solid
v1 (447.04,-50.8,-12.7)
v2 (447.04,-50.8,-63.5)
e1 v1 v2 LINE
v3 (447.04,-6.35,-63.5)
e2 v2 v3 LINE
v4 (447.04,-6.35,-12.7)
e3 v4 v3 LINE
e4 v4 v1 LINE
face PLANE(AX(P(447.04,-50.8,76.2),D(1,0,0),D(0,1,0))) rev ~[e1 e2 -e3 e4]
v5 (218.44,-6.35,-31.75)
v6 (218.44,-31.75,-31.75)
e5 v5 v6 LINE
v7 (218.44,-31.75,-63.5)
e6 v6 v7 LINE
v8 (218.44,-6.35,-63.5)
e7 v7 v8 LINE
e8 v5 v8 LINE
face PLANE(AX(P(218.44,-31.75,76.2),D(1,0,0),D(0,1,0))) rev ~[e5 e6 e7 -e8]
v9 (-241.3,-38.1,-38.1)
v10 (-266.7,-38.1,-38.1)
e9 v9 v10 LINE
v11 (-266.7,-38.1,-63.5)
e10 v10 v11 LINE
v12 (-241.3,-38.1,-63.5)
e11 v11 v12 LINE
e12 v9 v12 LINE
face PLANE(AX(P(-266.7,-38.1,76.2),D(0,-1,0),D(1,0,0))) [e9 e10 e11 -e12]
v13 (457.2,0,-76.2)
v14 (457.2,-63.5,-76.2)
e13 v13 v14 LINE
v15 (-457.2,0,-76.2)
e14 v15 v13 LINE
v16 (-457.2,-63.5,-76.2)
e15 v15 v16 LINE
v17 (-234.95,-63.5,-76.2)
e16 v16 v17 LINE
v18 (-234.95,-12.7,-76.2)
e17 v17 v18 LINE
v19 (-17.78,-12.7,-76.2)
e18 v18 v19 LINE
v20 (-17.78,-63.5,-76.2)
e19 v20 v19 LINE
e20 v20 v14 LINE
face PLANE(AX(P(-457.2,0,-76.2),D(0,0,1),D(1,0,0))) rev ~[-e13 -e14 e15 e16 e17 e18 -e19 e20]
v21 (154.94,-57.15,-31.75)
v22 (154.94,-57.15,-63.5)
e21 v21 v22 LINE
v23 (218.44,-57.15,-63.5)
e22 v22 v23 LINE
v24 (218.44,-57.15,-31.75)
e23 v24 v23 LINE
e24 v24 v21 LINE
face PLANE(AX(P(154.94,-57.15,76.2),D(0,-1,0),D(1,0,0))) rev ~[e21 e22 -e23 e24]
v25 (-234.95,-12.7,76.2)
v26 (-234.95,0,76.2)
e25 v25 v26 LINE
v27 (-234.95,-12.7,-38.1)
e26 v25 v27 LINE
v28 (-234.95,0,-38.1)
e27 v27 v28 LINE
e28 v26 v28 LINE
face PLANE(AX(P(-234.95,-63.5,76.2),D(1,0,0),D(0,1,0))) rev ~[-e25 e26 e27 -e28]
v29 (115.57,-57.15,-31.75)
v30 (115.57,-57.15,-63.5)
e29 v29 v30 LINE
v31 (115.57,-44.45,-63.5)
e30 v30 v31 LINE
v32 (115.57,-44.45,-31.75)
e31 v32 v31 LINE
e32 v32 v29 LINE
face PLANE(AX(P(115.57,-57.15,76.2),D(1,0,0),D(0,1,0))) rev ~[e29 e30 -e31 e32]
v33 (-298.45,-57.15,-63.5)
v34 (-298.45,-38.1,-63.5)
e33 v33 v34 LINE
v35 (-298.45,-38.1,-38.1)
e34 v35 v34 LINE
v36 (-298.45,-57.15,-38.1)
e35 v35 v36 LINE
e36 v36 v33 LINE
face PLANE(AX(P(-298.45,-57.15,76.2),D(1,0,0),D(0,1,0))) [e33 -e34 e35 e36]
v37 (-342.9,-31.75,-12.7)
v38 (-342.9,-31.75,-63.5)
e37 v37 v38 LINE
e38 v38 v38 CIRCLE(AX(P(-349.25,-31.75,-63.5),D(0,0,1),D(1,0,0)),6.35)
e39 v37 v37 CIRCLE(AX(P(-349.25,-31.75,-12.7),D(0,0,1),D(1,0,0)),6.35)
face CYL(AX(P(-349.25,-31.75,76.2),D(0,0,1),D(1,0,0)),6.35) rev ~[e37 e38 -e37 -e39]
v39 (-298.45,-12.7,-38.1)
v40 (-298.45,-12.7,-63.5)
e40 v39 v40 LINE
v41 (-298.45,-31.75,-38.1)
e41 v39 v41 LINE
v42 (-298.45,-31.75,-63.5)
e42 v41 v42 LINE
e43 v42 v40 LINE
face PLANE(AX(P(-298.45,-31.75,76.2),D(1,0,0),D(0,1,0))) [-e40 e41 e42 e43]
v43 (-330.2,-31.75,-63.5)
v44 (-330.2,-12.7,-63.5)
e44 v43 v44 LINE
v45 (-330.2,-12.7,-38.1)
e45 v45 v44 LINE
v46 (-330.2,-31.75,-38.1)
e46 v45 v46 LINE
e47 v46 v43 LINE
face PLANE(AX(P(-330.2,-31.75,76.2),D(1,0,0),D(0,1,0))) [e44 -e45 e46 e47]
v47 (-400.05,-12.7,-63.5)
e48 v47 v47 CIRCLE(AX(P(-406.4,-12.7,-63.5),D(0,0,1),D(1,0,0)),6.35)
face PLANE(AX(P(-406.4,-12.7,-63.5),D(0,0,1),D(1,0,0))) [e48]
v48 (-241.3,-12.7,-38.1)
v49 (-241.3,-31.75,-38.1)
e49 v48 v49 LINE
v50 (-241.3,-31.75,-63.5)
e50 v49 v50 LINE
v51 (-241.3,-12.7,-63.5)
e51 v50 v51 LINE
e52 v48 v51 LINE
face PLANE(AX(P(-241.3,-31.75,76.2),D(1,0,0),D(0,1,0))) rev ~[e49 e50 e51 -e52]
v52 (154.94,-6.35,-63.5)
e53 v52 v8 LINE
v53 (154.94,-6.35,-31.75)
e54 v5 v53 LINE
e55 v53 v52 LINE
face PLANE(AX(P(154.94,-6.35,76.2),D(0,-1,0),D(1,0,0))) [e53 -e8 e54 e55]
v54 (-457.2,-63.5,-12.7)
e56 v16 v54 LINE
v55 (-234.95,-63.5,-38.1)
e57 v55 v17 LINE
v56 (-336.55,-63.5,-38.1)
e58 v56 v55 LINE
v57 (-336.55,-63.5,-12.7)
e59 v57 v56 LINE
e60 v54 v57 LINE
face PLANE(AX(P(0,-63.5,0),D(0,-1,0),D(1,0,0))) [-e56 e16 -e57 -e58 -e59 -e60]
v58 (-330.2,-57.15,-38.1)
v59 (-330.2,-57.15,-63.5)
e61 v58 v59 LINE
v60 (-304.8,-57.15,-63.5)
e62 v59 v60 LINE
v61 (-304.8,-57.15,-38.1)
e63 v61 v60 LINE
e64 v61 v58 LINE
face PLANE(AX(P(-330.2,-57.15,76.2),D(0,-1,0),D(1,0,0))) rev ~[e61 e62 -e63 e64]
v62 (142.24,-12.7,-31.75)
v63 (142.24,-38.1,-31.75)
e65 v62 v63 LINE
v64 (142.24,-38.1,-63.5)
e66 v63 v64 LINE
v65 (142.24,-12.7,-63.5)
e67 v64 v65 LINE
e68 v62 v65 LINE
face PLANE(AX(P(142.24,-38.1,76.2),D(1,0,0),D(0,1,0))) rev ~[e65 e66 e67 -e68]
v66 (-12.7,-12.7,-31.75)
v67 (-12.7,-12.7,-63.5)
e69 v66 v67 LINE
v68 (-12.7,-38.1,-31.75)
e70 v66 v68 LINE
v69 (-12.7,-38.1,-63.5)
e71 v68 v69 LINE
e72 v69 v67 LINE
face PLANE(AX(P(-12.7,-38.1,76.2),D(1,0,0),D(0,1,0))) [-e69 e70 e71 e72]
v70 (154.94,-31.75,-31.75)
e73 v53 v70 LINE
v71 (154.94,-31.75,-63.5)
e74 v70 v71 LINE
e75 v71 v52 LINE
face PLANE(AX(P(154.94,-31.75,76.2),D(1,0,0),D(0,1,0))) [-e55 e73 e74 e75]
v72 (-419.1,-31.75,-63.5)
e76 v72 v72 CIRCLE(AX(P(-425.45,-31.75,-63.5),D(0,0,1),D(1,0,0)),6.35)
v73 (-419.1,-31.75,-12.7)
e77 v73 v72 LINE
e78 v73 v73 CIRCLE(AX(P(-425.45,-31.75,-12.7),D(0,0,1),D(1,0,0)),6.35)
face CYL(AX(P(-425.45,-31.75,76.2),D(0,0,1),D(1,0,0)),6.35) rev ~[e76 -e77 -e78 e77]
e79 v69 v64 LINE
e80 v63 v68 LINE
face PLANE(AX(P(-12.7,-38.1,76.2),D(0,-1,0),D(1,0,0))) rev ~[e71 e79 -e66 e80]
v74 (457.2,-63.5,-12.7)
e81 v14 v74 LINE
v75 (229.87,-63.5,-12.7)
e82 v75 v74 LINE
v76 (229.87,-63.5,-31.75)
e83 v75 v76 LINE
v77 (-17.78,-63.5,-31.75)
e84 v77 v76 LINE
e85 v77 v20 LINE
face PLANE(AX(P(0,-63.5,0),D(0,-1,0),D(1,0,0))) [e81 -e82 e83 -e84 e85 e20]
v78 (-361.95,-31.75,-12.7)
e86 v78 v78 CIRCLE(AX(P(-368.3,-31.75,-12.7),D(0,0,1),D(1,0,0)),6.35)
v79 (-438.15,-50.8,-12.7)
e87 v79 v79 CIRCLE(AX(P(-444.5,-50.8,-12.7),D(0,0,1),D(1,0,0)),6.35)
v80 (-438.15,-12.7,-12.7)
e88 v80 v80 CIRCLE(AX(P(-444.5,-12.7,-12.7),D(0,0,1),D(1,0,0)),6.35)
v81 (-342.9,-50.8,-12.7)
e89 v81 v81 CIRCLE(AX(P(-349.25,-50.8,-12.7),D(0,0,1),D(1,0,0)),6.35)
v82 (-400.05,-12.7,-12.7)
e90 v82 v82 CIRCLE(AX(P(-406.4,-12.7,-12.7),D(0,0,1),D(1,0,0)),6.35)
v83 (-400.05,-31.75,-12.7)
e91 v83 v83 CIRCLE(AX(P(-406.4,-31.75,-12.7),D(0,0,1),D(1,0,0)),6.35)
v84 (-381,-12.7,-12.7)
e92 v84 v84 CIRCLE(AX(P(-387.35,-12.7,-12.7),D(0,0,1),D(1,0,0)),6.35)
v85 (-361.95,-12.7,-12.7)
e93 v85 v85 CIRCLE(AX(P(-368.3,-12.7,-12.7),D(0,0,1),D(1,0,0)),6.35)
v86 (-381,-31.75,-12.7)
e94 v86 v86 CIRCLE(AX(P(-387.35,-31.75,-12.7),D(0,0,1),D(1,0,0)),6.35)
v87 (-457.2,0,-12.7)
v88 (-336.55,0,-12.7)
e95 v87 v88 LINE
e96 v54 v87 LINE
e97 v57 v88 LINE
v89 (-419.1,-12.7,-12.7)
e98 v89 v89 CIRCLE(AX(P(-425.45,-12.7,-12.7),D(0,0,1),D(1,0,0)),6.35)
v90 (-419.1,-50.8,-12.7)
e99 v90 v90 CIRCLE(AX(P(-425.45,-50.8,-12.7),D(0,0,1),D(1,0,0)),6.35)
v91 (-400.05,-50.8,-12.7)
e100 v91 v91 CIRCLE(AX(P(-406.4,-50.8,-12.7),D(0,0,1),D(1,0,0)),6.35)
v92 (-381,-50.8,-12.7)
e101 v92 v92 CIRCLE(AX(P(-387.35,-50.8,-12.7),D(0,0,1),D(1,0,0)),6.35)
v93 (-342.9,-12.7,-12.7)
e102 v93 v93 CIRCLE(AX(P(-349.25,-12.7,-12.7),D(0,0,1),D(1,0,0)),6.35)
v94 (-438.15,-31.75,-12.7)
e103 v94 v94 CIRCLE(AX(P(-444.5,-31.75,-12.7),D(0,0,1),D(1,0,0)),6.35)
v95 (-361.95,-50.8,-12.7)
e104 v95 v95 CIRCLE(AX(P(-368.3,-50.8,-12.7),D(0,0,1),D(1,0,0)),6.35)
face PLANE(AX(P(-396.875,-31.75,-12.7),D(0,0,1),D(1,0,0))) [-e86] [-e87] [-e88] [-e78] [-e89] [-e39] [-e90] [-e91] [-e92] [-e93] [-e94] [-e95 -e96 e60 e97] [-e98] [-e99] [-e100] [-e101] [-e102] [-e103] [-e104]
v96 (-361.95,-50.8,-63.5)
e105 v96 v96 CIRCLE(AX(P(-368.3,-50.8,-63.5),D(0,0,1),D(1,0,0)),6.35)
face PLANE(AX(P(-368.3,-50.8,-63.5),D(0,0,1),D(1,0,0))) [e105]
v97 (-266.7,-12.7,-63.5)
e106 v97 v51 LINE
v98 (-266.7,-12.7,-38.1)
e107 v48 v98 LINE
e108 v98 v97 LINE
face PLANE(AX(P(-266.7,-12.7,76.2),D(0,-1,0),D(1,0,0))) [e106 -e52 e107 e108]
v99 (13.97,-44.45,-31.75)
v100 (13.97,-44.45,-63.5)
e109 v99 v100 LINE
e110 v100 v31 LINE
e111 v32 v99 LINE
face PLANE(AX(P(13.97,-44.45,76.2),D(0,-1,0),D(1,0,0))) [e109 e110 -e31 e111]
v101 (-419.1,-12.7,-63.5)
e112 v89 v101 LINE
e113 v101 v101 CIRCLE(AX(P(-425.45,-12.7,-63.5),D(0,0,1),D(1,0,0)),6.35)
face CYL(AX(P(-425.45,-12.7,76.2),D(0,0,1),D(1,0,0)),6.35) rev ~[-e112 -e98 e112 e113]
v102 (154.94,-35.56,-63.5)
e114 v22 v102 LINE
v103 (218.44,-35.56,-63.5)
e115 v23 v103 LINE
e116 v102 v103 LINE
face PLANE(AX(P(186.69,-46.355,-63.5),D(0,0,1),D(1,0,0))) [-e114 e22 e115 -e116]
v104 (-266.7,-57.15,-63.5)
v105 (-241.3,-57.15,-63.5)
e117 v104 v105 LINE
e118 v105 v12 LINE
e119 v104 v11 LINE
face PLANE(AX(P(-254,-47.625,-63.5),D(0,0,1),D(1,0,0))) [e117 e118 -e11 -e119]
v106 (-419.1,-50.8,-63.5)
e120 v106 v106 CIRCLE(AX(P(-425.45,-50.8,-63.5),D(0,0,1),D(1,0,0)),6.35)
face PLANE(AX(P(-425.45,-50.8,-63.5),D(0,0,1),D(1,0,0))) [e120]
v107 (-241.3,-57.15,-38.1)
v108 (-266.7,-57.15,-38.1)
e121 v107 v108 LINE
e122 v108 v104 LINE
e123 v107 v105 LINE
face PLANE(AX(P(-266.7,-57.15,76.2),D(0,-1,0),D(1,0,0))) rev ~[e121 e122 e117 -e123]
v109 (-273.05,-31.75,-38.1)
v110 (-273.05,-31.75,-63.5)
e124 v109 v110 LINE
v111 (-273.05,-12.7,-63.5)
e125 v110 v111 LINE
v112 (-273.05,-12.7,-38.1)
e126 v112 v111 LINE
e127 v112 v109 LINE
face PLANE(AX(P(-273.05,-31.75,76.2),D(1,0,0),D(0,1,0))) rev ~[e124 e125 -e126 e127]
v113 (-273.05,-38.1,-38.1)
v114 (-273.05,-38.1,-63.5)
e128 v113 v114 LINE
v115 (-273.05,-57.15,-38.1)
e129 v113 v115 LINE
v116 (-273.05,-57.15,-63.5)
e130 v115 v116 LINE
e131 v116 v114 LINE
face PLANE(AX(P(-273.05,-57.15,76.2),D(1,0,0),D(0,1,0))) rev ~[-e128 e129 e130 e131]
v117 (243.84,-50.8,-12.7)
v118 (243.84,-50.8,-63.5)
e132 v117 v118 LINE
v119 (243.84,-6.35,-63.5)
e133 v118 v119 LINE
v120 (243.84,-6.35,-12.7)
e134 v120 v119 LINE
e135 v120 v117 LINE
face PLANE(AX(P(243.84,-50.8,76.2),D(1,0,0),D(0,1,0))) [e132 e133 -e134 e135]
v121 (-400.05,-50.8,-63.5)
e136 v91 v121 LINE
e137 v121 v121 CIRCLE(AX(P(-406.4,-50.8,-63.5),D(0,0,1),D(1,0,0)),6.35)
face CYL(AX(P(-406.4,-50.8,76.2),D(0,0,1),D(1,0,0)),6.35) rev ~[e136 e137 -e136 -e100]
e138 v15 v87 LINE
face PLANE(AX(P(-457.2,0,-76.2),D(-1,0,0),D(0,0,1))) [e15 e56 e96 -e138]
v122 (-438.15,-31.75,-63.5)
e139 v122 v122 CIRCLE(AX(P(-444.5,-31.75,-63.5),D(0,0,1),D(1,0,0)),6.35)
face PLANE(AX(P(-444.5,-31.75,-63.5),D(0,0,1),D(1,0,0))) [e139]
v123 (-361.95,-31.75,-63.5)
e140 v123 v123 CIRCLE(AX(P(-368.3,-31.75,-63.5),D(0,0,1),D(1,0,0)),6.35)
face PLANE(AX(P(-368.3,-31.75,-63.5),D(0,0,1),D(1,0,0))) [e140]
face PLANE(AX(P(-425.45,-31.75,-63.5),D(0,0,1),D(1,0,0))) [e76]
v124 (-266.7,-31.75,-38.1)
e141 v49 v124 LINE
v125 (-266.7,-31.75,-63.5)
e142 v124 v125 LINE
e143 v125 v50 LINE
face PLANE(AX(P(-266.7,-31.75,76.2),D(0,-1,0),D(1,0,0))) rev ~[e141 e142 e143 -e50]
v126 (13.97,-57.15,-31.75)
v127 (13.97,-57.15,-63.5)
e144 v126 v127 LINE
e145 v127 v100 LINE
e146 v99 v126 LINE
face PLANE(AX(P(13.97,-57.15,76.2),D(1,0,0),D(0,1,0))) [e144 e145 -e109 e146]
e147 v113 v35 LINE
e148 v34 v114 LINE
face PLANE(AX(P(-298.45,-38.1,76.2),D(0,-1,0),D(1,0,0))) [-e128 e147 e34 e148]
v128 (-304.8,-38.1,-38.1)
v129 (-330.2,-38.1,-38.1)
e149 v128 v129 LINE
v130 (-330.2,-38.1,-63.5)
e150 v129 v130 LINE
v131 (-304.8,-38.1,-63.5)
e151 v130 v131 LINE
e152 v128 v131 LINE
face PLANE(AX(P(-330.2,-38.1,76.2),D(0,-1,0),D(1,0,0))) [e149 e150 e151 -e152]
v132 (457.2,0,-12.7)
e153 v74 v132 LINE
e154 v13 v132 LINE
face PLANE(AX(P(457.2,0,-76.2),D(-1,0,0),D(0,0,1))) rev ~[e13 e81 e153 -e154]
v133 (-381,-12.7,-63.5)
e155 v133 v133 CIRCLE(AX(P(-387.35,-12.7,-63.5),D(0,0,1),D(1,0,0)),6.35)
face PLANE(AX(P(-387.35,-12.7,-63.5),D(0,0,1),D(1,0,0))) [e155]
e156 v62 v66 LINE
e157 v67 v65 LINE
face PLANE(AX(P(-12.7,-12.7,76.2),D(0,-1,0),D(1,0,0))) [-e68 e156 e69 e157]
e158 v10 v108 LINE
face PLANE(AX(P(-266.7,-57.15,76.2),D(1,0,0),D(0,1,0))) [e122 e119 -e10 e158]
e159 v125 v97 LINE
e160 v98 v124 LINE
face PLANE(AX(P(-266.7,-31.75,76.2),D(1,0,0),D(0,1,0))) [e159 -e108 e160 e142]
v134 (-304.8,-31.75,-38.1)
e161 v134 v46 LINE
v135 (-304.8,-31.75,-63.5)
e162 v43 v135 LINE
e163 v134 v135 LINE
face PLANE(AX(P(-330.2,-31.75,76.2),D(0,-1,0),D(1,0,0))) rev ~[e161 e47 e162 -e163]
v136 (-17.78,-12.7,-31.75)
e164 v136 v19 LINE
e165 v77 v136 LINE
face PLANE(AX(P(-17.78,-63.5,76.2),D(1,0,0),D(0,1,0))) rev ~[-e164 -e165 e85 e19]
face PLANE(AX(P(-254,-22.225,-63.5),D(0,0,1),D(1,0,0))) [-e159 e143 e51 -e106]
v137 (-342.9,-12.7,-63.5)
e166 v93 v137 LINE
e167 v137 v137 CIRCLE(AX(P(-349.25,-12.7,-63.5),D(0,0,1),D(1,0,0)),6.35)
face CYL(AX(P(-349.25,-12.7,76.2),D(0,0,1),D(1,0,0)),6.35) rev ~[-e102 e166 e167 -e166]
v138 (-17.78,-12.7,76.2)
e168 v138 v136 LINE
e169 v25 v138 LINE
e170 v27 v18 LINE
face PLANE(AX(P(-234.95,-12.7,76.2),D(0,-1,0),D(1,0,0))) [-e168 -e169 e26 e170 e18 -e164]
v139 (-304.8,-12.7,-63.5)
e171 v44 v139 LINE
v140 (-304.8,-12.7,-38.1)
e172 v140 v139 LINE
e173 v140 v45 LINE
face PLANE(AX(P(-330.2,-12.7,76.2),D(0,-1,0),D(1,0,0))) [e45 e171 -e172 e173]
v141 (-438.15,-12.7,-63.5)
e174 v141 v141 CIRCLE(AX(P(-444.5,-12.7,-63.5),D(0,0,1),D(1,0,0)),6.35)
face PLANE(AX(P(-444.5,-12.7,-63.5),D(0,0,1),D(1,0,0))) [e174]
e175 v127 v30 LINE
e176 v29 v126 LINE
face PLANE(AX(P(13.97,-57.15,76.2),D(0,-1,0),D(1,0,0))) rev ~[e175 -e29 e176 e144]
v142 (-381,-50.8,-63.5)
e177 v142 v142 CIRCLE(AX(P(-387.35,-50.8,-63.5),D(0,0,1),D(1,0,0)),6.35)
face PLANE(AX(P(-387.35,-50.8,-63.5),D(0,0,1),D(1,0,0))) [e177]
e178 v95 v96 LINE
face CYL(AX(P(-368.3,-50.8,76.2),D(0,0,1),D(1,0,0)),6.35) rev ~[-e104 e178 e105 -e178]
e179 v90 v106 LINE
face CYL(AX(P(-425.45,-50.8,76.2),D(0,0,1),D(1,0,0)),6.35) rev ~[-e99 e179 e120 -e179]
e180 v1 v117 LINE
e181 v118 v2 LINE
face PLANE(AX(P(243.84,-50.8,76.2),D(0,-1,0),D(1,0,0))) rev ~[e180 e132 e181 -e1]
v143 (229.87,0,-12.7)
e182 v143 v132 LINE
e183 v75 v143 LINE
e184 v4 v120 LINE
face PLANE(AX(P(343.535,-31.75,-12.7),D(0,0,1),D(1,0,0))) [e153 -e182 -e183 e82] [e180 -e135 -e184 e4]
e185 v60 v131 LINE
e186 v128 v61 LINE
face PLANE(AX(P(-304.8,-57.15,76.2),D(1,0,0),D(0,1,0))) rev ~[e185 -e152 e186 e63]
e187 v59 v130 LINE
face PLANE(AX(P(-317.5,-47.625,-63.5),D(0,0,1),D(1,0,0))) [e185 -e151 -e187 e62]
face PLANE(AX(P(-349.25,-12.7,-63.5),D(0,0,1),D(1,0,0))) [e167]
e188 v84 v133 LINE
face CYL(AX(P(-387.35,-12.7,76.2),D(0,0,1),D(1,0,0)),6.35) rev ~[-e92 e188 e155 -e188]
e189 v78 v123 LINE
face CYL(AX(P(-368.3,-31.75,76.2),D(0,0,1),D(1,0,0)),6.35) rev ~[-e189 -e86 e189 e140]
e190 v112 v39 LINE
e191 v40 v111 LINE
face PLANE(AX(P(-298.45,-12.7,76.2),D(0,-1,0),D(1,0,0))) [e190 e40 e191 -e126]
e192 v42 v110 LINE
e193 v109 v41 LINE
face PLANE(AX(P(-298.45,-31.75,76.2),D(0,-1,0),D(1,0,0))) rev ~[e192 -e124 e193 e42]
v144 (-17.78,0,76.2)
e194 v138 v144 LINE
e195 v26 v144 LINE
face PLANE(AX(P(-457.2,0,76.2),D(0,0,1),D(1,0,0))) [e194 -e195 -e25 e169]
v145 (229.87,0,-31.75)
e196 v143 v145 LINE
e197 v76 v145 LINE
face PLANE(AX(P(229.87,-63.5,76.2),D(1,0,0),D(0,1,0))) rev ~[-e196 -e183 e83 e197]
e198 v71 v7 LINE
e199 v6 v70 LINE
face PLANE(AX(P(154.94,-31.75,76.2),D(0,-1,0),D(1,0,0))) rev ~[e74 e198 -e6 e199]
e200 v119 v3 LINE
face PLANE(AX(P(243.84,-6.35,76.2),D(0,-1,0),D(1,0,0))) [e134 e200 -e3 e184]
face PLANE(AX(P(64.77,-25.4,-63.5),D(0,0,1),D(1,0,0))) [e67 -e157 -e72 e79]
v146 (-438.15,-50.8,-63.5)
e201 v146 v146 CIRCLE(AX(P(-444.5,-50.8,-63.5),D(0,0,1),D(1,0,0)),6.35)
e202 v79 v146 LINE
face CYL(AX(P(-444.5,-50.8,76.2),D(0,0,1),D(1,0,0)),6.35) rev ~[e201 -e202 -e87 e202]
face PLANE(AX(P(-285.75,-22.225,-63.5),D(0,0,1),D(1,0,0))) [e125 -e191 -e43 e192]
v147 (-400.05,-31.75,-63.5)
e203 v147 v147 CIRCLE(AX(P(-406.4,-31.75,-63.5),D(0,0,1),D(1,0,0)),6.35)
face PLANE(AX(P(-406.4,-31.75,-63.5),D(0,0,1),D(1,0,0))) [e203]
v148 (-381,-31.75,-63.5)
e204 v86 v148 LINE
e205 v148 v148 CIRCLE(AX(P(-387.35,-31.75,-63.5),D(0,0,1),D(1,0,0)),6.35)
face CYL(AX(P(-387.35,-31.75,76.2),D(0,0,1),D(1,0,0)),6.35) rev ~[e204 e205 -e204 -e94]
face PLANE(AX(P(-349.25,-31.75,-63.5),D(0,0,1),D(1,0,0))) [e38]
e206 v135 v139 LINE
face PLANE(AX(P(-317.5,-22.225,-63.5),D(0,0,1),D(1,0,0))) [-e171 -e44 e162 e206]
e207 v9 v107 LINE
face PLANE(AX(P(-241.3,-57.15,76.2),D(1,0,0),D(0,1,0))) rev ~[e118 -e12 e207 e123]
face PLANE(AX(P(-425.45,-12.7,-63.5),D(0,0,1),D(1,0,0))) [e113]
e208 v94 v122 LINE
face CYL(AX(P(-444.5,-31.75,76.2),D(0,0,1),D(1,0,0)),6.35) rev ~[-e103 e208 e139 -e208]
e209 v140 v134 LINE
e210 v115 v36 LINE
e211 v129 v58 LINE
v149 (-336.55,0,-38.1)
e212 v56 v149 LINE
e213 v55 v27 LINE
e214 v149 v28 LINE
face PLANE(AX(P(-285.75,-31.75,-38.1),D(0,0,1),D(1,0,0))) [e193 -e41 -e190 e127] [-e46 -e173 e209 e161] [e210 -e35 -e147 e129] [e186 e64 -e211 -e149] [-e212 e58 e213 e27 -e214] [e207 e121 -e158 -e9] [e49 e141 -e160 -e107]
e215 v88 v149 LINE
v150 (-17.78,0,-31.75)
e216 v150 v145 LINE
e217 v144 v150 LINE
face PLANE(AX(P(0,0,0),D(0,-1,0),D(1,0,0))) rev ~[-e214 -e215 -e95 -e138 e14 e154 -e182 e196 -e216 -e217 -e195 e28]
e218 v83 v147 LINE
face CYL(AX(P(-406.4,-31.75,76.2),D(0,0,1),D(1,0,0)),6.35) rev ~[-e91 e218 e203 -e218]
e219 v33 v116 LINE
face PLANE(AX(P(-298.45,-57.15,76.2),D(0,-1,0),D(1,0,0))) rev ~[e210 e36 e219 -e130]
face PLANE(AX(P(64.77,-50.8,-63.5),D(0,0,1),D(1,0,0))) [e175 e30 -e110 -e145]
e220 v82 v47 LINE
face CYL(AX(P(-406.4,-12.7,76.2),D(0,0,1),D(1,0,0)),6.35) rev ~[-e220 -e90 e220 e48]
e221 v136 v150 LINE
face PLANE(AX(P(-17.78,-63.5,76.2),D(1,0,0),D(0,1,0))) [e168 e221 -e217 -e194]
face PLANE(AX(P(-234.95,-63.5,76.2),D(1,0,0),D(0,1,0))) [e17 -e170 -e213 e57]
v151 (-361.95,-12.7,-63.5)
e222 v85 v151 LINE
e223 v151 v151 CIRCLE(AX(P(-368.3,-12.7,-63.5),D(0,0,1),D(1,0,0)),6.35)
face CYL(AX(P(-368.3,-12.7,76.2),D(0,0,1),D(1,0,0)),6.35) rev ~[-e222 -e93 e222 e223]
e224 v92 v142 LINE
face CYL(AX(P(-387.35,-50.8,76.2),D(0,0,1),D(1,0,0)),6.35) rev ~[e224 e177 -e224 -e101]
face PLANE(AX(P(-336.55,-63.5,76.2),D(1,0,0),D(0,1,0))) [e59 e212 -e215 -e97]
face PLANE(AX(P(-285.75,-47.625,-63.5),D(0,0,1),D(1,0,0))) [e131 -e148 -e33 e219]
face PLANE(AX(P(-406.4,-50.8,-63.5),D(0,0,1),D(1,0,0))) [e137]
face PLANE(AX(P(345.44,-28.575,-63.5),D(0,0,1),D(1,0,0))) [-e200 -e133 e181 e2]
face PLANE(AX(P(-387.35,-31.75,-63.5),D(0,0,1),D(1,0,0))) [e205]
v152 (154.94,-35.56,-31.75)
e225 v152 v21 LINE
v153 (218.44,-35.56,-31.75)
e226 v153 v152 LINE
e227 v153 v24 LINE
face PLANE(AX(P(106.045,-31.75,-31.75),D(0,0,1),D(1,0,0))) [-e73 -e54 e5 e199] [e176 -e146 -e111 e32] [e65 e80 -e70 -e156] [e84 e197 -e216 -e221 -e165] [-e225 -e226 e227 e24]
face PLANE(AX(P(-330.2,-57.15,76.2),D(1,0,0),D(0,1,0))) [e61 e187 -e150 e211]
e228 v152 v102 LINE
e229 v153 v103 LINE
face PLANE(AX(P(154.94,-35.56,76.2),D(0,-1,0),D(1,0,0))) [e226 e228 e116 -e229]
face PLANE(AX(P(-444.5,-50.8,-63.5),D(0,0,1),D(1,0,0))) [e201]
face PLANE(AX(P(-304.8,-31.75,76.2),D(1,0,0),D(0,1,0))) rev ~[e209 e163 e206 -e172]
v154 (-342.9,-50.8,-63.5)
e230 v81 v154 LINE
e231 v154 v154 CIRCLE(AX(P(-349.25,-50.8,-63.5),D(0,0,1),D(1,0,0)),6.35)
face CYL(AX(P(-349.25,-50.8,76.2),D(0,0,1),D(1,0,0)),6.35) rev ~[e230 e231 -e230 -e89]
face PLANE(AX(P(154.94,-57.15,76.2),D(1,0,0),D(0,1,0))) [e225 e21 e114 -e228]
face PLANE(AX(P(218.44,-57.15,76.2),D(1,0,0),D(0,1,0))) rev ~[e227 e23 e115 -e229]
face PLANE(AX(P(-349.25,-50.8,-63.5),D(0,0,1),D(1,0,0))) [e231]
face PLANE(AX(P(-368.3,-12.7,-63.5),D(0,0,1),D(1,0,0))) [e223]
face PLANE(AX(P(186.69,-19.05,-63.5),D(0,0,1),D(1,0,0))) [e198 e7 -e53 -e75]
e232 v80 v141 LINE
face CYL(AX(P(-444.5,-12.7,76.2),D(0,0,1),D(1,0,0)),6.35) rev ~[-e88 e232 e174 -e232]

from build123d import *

# Parameters (mm, degrees)
F0_W      = 914.4
F0_H      = 152.4
F1_DEPTH  = 63.5
F2_R      = 6.35
F2_W      = 25.4
F2_H      = 19.05
F2_W_2    = 154.94
F2_H_2    = 25.4
F2_W_3    = 101.6
F2_H_3    = 12.7
F2_W_4    = 63.5
F2_W_5    = 203.2
F2_H_4    = 44.45
F2_H_5    = 21.59
F3_DEPTH  = 139.7
F4_W      = 120.65
F4_H      = 63.5
F5_DEPTH  = 88.9
F6_W      = 101.6
F6_H      = 63.5
F7_DEPTH  = 114.3
F8_W      = 247.65
F8_H      = 63.5
F9_DEPTH  = 107.95
F10_W     = 227.33
F10_H     = 63.5
F11_DEPTH = 88.9
F12_W     = 217.17
F12_H     = 50.8
F13_DEPTH = 152.4


with BuildPart() as f1:
    # F0 (on Front) → F1 (new body)
    with BuildSketch(Plane.XZ):
        Rectangle(F0_W, F0_H)
    extrude(amount=F1_DEPTH)

    # F2 (on face) → F3 (cut)
    with BuildSketch(Plane.XY.offset(76.2)):
        with Locations((-444.5, -12.7)):
            Circle(F2_R)
        with Locations((-425.45, -12.7)):
            Circle(F2_R)
        with Locations((-406.4, -12.7)):
            Circle(F2_R)
        with Locations((-387.35, -12.7)):
            Circle(F2_R)
        with Locations((-368.3, -12.7)):
            Circle(F2_R)
        with Locations((-349.25, -12.7)):
            Circle(F2_R)
        with Locations((-444.5, -31.75)):
            Circle(F2_R)
        with Locations((-425.45, -31.75)):
            Circle(F2_R)
        with Locations((-406.4, -31.75)):
            Circle(F2_R)
        with Locations((-387.35, -31.75)):
            Circle(F2_R)
        with Locations((-368.3, -31.75)):
            Circle(F2_R)
        with Locations((-349.25, -31.75)):
            Circle(F2_R)
        with Locations((-444.5, -50.8)):
            Circle(F2_R)
        with Locations((-425.45, -50.8)):
            Circle(F2_R)
        with Locations((-406.4, -50.8)):
            Circle(F2_R)
        with Locations((-387.35, -50.8)):
            Circle(F2_R)
        with Locations((-368.3, -50.8)):
            Circle(F2_R)
        with Locations((-349.25, -50.8)):
            Circle(F2_R)
        with Locations((-317.5, -47.625)):
            Rectangle(F2_W, F2_H)
        with Locations((-317.5, -22.225)):
            Rectangle(F2_W, F2_H)
        with Locations((-285.75, -22.225)):
            Rectangle(F2_W, F2_H)
        with Locations((-285.75, -47.625)):
            Rectangle(F2_W, F2_H)
        with Locations((-254, -22.225)):
            Rectangle(F2_W, F2_H)
        with Locations((-254, -47.625)):
            Rectangle(F2_W, F2_H)
        with Locations((64.77, -25.4)):
            Rectangle(F2_W_2, F2_H_2)
        with Locations((64.77, -50.8)):
            Rectangle(F2_W_3, F2_H_3)
        with Locations((186.69, -19.05)):
            Rectangle(F2_W_4, F2_H_2)
        with Locations((345.44, -28.575)):
            Rectangle(F2_W_5, F2_H_4)
        with Locations((186.69, -46.355)):
            Rectangle(F2_W_4, F2_H_5)
    extrude(amount=-F3_DEPTH, mode=Mode.SUBTRACT)

    # F4 (on face) → F5 (cut)
    with BuildSketch(Plane.XY.offset(76.2)):
        with Locations((-396.875, -31.75)):
            Rectangle(F4_W, F4_H)
    extrude(amount=-F5_DEPTH, mode=Mode.SUBTRACT)

    # F6 (on face) → F7 (cut)
    with BuildSketch(Plane.XY.offset(76.2)):
        with Locations((-285.75, -31.75)):
            Rectangle(F6_W, F6_H)
    extrude(amount=-F7_DEPTH, mode=Mode.SUBTRACT)

    # F8 (on face) → F9 (cut)
    with BuildSketch(Plane.XY.offset(76.2)):
        with Locations((106.045, -31.75)):
            Rectangle(F8_W, F8_H)
    extrude(amount=-F9_DEPTH, mode=Mode.SUBTRACT)

    # F10 (on face) → F11 (cut)
    with BuildSketch(Plane.XY.offset(76.2)):
        with Locations((343.535, -31.75)):
            Rectangle(F10_W, F10_H)
    extrude(amount=-F11_DEPTH, mode=Mode.SUBTRACT)

    # F12 (on face) → F13 (cut)
    with BuildSketch(Plane.XY.offset(76.2)):
        with Locations((-126.365, -38.1)):
            Rectangle(F12_W, F12_H)
    extrude(amount=-F13_DEPTH, mode=Mode.SUBTRACT)


solid = f1.part
